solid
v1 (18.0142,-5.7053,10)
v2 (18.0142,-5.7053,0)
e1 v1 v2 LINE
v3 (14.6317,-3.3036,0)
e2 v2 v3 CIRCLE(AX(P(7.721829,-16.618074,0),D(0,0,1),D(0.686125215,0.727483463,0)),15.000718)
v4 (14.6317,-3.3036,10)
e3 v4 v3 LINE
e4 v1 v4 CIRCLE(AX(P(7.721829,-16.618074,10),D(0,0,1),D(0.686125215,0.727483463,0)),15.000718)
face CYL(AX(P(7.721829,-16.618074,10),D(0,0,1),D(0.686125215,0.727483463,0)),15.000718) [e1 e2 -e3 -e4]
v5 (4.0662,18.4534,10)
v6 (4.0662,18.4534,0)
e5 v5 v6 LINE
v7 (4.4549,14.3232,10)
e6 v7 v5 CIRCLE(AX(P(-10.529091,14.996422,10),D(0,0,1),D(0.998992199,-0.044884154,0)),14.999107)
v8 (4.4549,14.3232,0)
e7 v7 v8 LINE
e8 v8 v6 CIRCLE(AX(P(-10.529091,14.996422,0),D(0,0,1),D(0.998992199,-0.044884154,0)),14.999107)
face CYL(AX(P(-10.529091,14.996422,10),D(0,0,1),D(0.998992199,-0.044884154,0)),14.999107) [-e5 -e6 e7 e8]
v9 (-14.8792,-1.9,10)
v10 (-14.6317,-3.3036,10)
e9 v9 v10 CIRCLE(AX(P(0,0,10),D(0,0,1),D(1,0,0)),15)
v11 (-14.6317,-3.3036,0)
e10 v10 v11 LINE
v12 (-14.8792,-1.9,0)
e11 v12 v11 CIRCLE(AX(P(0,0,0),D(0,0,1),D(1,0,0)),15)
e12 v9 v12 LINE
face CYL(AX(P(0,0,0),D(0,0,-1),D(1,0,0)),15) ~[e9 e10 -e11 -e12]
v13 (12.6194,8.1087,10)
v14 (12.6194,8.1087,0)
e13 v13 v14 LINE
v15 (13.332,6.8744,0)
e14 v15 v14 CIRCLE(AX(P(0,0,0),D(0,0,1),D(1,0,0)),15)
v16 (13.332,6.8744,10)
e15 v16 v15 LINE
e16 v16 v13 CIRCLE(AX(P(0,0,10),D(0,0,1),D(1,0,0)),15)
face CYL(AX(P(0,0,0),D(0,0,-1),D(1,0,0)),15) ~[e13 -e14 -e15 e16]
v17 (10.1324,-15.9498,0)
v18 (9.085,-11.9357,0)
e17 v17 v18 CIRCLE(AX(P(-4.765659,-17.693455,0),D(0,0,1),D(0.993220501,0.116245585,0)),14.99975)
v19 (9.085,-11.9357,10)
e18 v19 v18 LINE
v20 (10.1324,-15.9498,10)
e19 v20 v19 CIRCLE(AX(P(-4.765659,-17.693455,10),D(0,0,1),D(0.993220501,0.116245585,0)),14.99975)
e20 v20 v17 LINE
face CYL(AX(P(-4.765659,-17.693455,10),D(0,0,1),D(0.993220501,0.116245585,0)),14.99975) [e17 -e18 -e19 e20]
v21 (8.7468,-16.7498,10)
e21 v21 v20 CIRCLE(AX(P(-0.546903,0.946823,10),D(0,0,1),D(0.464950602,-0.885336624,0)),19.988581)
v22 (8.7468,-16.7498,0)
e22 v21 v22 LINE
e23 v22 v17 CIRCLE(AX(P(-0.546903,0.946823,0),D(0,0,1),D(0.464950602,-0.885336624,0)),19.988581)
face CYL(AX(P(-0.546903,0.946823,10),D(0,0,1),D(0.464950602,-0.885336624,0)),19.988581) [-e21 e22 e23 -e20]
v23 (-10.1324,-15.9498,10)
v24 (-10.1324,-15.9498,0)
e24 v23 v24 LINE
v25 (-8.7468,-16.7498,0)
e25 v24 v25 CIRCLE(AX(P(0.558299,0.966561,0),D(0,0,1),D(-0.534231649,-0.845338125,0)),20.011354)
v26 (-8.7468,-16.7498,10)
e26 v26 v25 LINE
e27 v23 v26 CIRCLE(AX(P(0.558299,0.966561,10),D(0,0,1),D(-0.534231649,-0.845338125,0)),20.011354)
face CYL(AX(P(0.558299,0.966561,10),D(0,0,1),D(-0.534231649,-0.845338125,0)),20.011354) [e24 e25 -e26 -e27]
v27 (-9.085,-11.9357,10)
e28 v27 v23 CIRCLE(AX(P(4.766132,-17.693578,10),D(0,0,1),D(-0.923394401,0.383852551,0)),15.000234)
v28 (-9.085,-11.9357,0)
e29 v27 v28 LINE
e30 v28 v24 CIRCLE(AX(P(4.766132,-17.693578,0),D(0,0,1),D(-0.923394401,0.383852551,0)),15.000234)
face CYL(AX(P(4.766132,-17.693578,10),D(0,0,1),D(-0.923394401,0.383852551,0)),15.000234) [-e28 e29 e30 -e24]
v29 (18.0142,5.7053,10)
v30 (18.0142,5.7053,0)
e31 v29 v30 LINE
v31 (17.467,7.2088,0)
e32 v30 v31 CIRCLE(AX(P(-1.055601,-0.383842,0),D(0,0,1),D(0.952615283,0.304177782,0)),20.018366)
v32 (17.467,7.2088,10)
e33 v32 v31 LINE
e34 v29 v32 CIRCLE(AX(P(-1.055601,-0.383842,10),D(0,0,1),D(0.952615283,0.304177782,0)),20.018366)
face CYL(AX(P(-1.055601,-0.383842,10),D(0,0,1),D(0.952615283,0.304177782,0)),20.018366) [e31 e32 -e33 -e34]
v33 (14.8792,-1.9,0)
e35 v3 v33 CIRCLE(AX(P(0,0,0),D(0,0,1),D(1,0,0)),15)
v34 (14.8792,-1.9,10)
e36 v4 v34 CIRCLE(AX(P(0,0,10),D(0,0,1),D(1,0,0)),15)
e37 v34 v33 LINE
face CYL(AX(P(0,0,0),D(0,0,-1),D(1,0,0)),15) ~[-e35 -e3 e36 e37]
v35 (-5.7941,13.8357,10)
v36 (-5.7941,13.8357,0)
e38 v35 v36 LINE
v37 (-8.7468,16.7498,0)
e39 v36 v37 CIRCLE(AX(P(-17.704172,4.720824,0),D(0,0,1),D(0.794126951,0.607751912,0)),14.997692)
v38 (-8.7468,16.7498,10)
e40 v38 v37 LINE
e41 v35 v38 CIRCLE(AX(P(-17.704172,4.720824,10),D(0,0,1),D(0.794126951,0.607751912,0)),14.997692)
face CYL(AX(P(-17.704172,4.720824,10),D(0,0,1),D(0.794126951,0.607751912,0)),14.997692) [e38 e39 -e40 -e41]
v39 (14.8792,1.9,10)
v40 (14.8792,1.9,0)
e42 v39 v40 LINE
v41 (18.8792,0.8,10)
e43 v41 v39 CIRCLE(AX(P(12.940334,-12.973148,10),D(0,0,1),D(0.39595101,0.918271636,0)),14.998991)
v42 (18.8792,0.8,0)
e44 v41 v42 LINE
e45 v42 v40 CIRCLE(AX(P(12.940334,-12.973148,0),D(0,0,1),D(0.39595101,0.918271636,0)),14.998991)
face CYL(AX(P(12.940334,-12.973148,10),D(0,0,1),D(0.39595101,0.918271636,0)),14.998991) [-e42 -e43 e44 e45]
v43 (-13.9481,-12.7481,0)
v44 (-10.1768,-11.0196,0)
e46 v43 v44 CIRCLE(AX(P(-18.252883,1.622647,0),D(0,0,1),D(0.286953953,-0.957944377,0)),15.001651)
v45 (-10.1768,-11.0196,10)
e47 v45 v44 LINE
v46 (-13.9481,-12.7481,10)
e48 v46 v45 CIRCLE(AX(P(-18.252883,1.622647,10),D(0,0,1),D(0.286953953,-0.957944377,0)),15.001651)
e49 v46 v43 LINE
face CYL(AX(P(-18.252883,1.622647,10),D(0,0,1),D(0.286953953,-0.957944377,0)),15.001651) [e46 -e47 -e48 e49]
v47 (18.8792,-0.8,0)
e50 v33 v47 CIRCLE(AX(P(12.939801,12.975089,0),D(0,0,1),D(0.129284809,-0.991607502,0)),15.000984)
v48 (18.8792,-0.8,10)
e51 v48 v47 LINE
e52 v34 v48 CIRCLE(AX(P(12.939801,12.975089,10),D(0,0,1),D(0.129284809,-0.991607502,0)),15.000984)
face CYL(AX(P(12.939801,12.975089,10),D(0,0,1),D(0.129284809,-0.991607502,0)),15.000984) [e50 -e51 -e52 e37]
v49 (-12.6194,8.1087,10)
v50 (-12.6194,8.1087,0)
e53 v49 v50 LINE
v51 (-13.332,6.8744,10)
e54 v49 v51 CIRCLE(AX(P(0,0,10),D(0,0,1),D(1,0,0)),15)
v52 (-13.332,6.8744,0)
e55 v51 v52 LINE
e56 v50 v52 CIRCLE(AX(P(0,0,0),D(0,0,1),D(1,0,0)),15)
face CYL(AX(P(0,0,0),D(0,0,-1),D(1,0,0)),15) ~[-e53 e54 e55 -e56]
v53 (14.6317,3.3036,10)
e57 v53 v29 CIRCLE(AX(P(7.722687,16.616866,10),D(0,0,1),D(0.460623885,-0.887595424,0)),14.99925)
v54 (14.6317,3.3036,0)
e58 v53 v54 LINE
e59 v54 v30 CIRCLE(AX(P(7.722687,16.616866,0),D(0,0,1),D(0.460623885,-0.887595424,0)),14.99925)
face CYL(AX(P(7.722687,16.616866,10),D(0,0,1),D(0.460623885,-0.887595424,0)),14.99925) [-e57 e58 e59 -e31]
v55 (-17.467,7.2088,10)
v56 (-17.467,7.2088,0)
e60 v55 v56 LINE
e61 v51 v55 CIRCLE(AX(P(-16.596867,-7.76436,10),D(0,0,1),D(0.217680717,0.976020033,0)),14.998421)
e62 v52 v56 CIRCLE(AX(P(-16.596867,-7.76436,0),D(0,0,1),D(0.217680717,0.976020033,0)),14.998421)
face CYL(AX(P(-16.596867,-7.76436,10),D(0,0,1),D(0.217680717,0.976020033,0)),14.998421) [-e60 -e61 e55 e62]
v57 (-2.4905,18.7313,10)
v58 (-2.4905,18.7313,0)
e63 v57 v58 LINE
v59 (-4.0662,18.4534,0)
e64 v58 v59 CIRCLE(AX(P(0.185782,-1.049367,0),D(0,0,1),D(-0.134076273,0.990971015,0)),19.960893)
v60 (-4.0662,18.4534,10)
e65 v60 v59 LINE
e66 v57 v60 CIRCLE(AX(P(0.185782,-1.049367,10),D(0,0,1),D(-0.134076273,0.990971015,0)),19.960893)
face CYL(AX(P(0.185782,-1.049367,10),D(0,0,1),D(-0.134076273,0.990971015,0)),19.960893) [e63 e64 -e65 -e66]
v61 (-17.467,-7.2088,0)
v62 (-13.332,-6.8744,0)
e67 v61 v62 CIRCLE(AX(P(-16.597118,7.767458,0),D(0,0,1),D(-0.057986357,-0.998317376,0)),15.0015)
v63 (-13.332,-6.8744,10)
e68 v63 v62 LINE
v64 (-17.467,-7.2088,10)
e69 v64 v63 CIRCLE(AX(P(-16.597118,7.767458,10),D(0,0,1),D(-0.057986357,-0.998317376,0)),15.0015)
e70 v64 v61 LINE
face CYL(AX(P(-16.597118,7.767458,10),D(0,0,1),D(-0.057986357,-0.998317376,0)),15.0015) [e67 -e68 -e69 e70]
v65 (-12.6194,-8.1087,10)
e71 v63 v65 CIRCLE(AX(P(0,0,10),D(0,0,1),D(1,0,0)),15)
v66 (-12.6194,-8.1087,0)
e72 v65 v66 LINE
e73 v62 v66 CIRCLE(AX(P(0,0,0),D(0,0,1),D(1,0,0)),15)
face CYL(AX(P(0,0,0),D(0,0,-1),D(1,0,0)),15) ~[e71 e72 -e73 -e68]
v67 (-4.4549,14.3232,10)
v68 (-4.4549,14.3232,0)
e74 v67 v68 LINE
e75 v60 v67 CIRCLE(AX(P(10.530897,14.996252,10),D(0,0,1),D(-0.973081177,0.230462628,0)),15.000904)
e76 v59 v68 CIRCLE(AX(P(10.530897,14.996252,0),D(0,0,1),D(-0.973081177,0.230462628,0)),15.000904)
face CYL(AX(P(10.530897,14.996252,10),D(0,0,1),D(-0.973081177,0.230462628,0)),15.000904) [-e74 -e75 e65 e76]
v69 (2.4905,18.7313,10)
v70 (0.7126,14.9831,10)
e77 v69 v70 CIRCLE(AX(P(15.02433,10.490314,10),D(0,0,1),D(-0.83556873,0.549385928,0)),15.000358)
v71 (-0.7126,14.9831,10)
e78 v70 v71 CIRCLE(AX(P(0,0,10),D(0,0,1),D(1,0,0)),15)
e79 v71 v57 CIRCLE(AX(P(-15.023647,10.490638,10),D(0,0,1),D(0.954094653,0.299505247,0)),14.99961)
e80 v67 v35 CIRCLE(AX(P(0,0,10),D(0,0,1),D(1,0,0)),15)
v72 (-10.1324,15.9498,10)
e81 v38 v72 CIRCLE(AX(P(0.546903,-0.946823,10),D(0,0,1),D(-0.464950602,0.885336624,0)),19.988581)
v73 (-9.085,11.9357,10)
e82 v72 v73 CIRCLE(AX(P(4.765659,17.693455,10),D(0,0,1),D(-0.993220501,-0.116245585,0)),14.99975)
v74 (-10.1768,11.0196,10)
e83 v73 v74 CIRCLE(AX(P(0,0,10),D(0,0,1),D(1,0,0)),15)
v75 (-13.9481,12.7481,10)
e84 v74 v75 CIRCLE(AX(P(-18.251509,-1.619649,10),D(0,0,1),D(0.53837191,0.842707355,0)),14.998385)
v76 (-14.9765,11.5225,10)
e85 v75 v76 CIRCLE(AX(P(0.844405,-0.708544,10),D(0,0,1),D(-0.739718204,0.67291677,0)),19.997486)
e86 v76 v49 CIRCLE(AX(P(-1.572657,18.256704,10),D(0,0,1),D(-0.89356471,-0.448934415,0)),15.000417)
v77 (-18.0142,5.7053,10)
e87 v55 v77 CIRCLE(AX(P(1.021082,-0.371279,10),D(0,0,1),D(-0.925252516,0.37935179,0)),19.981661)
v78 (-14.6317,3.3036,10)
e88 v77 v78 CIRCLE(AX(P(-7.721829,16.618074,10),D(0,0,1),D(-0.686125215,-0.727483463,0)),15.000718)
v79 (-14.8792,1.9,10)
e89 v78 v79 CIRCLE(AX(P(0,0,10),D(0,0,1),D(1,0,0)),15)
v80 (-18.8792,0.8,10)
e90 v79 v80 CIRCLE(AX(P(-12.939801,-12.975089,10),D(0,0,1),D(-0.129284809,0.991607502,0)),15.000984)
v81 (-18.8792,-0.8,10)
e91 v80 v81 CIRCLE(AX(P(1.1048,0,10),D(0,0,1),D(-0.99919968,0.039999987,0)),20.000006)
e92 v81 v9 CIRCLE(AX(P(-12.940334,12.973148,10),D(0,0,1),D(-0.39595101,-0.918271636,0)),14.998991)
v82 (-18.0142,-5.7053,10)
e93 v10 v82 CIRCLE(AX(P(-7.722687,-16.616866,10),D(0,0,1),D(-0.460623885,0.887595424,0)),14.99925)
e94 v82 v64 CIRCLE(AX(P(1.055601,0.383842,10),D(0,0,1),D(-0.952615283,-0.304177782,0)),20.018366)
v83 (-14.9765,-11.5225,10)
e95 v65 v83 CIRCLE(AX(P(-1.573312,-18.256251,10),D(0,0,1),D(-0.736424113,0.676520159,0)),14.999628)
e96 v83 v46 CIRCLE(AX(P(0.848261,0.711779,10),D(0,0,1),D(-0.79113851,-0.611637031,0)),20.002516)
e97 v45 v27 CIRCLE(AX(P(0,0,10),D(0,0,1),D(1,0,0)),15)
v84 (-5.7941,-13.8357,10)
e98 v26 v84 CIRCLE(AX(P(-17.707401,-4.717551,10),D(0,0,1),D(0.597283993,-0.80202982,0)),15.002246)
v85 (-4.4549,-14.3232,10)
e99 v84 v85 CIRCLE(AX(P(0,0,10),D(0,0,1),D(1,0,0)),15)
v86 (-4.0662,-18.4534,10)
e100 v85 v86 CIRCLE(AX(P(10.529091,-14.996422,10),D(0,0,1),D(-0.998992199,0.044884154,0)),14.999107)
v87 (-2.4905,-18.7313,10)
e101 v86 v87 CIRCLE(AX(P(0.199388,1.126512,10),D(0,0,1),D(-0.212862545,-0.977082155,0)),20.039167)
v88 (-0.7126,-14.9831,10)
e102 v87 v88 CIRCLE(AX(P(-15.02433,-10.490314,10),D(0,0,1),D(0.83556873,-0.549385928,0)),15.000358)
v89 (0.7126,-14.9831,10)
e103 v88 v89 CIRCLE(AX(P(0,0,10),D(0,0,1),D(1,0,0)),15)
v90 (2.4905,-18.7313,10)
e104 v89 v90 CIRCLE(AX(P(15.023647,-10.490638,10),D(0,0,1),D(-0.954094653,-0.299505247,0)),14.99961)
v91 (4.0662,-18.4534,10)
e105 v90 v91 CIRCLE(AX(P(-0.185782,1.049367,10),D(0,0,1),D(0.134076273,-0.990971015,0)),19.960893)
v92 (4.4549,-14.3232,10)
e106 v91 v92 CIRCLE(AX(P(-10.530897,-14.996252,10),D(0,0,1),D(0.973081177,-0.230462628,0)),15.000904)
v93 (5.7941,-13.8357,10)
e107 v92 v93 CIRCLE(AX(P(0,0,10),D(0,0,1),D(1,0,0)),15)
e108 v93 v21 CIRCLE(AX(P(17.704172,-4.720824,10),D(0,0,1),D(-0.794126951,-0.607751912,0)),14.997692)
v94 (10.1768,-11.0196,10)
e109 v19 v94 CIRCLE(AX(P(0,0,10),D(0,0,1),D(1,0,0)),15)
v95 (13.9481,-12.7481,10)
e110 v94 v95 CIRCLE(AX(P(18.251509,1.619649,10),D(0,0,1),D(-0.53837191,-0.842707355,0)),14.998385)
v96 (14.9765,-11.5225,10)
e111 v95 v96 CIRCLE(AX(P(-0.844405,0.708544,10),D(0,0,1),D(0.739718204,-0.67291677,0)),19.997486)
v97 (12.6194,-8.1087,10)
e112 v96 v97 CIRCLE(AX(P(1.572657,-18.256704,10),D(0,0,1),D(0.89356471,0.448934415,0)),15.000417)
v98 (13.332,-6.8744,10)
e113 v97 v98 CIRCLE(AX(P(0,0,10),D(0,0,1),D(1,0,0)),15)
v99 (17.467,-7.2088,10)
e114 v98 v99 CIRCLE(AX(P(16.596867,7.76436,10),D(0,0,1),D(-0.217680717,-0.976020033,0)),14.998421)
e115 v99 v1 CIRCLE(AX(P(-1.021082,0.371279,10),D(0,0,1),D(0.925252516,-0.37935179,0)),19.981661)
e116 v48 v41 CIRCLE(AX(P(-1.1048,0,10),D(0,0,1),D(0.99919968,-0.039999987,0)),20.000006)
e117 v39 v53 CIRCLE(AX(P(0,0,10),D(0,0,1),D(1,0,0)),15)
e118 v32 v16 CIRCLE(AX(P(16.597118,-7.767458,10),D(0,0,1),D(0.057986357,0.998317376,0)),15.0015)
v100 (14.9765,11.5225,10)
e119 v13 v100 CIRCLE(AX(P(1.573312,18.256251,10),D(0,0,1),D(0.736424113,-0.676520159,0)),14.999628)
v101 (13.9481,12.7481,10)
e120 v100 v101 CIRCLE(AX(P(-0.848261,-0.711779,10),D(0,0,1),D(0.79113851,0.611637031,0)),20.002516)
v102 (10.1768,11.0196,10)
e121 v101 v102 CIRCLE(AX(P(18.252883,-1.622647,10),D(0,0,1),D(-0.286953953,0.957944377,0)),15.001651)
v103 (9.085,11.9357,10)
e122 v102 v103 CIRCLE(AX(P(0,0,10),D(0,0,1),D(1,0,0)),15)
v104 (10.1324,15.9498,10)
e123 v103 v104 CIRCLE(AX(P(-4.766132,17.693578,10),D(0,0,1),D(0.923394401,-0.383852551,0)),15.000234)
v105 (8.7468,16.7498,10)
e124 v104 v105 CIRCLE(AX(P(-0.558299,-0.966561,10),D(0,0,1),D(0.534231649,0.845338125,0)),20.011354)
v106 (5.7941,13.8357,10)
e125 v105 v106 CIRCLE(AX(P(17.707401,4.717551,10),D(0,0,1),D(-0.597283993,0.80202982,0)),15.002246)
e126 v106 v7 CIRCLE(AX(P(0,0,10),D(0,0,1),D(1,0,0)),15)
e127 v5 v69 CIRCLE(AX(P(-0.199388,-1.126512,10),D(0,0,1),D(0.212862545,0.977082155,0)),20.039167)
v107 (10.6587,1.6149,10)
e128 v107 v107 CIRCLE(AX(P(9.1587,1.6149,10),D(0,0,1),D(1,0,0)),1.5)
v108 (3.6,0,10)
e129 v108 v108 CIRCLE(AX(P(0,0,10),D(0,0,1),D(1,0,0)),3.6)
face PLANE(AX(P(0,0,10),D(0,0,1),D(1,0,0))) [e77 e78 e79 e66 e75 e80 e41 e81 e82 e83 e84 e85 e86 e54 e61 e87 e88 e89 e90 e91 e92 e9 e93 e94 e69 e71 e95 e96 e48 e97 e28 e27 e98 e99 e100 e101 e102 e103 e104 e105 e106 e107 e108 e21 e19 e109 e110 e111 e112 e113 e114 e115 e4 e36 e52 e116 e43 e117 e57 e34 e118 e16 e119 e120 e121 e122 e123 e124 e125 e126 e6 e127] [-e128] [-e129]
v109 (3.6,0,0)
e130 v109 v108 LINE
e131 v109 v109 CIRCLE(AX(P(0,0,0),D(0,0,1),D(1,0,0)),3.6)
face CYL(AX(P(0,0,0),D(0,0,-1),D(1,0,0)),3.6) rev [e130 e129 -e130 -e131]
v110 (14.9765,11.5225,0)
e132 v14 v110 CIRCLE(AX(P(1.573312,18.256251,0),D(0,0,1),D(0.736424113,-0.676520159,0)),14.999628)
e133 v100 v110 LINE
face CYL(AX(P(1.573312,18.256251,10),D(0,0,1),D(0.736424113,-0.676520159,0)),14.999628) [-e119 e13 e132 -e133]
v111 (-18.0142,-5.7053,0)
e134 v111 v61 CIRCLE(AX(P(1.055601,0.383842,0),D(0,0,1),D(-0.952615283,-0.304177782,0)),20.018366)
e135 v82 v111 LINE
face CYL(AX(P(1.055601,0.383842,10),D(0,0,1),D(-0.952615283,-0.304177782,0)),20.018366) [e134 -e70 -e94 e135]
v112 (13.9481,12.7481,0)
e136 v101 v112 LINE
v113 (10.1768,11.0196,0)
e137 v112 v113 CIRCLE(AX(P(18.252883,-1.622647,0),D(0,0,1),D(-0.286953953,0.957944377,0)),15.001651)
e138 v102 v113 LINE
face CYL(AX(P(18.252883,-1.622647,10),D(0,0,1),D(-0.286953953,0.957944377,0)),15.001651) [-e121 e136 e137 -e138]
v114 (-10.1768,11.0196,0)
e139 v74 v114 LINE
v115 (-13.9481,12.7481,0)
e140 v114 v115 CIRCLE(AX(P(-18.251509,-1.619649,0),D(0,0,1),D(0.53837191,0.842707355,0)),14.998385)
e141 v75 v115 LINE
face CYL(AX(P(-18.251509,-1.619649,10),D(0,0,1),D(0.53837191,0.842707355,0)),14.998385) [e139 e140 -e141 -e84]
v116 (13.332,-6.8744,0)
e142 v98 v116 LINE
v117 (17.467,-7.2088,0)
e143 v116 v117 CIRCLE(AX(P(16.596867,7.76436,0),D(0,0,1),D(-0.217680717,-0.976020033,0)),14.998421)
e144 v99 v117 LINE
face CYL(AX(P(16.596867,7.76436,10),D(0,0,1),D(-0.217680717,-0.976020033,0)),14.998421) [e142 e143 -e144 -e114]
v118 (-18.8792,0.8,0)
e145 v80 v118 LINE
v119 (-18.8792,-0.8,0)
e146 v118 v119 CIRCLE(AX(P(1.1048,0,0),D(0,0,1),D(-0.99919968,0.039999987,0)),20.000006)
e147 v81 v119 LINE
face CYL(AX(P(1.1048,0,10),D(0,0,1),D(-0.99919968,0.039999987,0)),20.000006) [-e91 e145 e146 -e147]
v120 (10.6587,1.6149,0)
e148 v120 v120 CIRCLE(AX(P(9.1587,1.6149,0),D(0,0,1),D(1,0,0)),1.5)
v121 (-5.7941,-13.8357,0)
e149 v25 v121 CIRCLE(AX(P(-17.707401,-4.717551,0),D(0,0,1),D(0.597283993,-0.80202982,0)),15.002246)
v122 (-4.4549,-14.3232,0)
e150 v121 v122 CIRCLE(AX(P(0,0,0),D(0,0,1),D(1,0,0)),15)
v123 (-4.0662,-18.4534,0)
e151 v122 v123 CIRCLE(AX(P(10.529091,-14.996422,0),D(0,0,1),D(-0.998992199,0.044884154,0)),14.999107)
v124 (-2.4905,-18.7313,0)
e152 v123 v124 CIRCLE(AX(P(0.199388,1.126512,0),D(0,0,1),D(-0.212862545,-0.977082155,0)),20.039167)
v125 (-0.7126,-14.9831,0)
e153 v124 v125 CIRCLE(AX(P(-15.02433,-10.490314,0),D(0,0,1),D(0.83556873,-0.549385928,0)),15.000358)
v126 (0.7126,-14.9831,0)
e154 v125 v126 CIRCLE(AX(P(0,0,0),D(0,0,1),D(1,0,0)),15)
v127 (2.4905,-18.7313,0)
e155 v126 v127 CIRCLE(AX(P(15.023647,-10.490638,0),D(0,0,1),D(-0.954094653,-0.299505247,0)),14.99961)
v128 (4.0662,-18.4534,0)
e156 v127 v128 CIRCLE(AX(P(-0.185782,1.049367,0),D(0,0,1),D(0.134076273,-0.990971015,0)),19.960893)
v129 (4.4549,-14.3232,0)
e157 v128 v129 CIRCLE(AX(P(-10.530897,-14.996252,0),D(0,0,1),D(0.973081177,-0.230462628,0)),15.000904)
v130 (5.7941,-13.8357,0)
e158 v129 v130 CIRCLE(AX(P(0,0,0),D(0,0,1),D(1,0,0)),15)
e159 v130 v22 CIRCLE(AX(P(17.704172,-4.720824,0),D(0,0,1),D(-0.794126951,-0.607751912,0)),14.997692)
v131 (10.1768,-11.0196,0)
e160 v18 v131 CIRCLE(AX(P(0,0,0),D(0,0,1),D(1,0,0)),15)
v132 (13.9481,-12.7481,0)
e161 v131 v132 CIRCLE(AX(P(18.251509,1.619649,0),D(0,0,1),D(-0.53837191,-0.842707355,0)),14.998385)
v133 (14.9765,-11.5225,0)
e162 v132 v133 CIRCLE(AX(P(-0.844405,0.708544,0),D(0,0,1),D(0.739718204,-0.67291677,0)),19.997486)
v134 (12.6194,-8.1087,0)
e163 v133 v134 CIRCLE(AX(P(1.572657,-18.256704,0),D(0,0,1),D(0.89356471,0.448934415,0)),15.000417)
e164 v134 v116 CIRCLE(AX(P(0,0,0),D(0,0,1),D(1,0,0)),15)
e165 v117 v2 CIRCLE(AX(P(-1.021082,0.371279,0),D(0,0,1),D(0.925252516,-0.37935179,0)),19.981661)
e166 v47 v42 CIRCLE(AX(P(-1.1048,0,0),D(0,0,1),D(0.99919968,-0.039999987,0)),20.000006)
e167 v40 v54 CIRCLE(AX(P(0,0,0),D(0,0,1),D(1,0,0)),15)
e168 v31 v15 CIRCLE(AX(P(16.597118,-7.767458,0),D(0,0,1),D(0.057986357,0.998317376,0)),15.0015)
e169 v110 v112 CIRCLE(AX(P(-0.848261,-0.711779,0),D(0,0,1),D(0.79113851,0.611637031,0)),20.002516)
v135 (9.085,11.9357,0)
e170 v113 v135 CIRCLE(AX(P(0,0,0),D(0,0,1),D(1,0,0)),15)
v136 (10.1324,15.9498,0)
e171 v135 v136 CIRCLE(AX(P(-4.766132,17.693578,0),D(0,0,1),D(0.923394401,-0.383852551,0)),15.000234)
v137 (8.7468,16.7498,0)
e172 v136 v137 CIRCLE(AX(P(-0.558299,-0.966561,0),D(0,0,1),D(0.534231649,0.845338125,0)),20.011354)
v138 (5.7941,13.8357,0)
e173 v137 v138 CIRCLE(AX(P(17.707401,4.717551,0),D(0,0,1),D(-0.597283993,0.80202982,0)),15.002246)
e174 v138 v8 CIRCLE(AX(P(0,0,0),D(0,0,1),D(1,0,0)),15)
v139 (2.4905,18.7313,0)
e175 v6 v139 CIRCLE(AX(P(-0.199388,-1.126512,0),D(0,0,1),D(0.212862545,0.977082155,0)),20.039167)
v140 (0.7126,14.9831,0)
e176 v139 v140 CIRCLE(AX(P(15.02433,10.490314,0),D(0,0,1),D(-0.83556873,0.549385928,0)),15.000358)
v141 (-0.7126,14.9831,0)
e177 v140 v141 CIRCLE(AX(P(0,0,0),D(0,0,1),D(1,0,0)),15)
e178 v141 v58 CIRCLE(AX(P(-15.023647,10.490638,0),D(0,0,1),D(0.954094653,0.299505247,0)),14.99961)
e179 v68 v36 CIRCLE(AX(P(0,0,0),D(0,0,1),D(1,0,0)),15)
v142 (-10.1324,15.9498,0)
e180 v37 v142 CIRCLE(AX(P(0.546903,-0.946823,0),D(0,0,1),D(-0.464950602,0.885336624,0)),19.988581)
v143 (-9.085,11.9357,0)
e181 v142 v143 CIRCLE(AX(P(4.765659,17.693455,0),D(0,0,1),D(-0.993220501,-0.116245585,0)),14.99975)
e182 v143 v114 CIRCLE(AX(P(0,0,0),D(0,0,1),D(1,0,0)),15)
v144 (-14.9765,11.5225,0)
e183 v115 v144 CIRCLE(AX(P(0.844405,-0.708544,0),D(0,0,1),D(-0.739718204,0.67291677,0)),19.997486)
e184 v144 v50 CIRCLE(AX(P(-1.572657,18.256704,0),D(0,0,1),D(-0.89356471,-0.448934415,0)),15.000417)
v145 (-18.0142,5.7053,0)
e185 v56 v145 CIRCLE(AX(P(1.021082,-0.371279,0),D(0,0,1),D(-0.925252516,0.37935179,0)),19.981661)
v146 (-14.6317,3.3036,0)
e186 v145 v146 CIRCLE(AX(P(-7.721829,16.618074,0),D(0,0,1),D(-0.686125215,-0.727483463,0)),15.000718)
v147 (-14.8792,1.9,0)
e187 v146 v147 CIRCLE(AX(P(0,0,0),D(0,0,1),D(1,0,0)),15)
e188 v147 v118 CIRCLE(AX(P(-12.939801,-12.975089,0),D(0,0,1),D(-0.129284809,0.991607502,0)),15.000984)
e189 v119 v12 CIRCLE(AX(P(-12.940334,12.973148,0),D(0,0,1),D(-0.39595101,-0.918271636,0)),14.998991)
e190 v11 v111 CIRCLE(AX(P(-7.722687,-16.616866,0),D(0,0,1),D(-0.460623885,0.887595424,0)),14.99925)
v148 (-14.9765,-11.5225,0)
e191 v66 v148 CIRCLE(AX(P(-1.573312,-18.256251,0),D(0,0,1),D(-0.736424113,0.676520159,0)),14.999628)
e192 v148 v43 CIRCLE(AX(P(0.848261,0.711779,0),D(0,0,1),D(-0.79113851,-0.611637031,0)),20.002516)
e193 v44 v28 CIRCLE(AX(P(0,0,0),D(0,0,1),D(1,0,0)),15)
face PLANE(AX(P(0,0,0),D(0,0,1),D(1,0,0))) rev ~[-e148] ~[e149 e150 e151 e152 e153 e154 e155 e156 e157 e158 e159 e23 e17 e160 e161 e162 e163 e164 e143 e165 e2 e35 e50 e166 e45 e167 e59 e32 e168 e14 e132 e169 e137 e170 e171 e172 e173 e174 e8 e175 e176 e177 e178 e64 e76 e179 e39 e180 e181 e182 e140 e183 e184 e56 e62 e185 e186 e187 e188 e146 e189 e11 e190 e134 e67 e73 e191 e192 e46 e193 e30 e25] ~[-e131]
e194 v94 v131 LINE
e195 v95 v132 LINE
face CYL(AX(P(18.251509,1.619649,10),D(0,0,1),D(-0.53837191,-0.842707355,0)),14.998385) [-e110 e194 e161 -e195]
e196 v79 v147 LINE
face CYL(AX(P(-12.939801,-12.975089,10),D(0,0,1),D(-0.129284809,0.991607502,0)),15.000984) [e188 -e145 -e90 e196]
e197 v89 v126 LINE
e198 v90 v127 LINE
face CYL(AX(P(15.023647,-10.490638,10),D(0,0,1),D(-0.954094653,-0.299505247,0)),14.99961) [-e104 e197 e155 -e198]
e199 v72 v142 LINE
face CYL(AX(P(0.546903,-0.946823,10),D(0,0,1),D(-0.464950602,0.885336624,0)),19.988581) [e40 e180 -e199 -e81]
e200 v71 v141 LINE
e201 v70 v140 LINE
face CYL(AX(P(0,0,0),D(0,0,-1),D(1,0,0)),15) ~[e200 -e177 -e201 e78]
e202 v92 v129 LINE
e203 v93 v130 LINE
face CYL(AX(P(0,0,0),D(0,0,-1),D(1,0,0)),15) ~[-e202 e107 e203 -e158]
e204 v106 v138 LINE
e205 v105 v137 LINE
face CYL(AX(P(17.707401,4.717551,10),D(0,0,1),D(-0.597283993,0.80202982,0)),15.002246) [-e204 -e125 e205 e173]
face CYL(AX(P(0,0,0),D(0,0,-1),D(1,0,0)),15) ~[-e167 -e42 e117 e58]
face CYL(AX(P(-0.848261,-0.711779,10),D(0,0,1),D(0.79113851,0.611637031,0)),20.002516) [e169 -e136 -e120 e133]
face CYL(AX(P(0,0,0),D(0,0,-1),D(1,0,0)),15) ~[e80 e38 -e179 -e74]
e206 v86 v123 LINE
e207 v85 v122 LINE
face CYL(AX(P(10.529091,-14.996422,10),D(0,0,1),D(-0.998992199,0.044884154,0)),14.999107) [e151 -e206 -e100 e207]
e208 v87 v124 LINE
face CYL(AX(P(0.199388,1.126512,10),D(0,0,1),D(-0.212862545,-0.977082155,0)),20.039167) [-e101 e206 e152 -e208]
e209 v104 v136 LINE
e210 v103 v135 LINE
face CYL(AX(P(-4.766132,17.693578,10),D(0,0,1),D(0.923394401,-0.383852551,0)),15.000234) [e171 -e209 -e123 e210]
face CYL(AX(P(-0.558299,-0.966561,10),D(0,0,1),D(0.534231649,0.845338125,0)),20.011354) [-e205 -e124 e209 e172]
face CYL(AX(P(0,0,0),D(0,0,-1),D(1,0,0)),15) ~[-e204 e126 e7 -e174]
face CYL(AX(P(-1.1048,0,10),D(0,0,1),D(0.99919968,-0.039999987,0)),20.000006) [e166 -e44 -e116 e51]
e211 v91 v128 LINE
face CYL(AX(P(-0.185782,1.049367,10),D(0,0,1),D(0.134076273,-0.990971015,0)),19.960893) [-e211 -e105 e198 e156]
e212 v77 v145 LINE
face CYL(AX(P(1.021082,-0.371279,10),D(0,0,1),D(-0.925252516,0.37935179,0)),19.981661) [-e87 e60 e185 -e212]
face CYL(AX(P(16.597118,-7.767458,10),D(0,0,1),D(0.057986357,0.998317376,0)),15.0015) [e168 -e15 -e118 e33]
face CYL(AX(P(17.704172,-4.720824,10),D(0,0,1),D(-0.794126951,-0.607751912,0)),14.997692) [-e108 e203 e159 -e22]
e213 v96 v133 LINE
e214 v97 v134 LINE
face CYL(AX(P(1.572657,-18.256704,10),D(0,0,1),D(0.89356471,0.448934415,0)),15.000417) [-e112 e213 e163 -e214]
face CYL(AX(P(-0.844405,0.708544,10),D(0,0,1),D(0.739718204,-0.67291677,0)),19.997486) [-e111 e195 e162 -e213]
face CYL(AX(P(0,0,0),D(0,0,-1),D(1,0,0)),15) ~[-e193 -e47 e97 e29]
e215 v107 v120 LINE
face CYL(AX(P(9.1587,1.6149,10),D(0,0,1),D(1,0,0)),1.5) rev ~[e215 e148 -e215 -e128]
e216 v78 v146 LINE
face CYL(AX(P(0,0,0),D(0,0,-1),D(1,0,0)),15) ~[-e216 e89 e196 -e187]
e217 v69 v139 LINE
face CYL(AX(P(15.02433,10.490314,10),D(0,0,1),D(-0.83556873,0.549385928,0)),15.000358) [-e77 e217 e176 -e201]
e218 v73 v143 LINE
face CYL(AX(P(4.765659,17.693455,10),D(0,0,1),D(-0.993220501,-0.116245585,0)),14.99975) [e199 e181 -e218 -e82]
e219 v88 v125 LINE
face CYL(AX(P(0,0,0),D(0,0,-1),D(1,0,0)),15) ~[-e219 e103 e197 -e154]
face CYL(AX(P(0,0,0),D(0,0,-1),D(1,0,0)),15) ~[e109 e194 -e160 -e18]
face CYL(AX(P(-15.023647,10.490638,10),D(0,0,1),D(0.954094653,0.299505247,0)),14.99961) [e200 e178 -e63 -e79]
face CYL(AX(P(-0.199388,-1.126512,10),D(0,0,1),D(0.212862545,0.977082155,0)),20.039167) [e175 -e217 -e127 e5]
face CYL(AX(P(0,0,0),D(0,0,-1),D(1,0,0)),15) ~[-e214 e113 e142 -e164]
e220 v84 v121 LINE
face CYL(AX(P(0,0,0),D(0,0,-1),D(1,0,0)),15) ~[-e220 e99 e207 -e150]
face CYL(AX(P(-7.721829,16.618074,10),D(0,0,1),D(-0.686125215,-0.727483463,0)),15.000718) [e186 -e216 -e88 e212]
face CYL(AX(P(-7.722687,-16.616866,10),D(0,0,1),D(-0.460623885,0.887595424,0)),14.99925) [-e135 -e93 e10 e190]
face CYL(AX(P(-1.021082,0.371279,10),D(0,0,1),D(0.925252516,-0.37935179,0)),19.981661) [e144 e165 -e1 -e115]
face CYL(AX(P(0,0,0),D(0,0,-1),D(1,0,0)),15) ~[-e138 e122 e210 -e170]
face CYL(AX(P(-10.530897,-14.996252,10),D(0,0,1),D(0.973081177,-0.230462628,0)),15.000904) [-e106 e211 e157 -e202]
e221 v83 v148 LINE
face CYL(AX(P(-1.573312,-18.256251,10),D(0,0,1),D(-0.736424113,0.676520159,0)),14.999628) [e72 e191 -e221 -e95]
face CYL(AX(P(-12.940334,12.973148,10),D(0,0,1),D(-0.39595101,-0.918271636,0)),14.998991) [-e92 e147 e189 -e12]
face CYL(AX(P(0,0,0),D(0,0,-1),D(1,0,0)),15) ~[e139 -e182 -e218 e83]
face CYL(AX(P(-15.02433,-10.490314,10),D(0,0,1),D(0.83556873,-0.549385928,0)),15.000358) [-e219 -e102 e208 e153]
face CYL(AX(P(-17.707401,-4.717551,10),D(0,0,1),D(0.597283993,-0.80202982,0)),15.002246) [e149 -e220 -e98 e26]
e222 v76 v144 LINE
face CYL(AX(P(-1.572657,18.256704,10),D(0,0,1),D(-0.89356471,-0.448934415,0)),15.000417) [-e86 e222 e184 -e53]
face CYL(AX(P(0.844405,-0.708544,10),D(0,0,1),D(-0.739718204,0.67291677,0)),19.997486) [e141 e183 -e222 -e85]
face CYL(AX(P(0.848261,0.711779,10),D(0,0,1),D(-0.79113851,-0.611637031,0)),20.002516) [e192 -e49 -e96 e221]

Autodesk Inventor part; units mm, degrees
ref_plane "YZ Plane" through (0, 0, 0) normal (1, 0, 0) x (0, 1, 0)
ref_plane "XZ Plane" through (0, 0, 0) normal (0, 1, 0) x (-1, 0, 0)
ref_plane "XY Plane" through (0, 0, 0) normal (0, 0, 1) x (1, 0, 0)
sketch "Sketch1" plane through (0, 0, 0) normal (0, 0, 1) x (1, 0, 0)
  circle A0 centre (0, 0) radius 15
  circle A1 centre (0, 0) radius 3.6
  dimension "d0" = 30
  dimension "d1" = 7.2
extrude "Extrusion1" add sketch "Sketch1" along normal blind 10
sketch "Sketch3" plane through (0, 0, 10) normal (0, 0, 1) x (1, 0, 0)
  line L0 (0, 0) -> (25, 0) construction
  arc A0 (18.8792, 0.8) -> (14.8792, 1.9) centre (12.94, -12.9741) ccw
  circle A1 centre (0, 0) radius 15 projected
  arc A2 (18.8792, -0.8) -> (18.8792, 0.8) centre (-1.1048, 0) ccw
  arc A3 (14.8792, -1.9) -> (18.8792, -0.8) centre (12.94, 12.9741) ccw
  arc A4 (14.8792, -1.9) -> (14.8792, 1.9) centre (0, 0) ccw
  arc A5 (17.467, 7.2088) -> (13.332, 6.8744) centre (16.5971, -7.7659) ccw
  arc A6 (18.0142, 5.7053) -> (17.467, 7.2088) centre (-1.0382, -0.3779) ccw
  arc A7 (14.6317, 3.3036) -> (18.0142, 5.7053) centre (7.7223, 16.6175) ccw
  arc A8 (14.6317, 3.3036) -> (13.332, 6.8744) centre (0, 0) ccw
  arc A9 (13.9481, 12.7481) -> (10.1768, 11.0196) centre (18.2523, -1.6211) ccw
  arc A10 (14.9765, 11.5225) -> (13.9481, 12.7481) centre (-0.8463, -0.7102) ccw
  arc A11 (12.6194, 8.1087) -> (14.9765, 11.5225) centre (1.573, 18.2565) ccw
  arc A12 (12.6194, 8.1087) -> (10.1768, 11.0196) centre (0, 0) ccw
  arc A13 (8.7468, 16.7498) -> (5.7941, 13.8357) centre (17.7059, 4.7193) ccw
  arc A14 (10.1324, 15.9498) -> (8.7468, 16.7498) centre (-0.5524, -0.9568) ccw
  arc A15 (9.085, 11.9357) -> (10.1324, 15.9498) centre (-4.7659, 17.6935) ccw
  arc A16 (9.085, 11.9357) -> (5.7941, 13.8357) centre (0, 0) ccw
  arc A17 (2.4905, 18.7313) -> (0.7126, 14.9831) centre (15.024, 10.4905) ccw
  arc A18 (4.0662, 18.4534) -> (2.4905, 18.7313) centre (-0.1918, -1.088) ccw
  arc A19 (4.4549, 14.3232) -> (4.0662, 18.4534) centre (-10.53, 14.9964) ccw
  arc A20 (4.4549, 14.3232) -> (0.7126, 14.9831) centre (0, 0) ccw
  arc A21 (-4.0662, 18.4534) -> (-4.4549, 14.3232) centre (10.53, 14.9964) ccw
  arc A22 (-2.4905, 18.7313) -> (-4.0662, 18.4534) centre (0.1918, -1.088) ccw
  arc A23 (-0.7126, 14.9831) -> (-2.4905, 18.7313) centre (-15.024, 10.4905) ccw
  arc A24 (-0.7126, 14.9831) -> (-4.4549, 14.3232) centre (0, 0) ccw
  arc A25 (-10.1324, 15.9498) -> (-9.085, 11.9357) centre (4.7659, 17.6935) ccw
  arc A26 (-8.7468, 16.7498) -> (-10.1324, 15.9498) centre (0.5524, -0.9568) ccw
  arc A27 (-5.7941, 13.8357) -> (-8.7468, 16.7498) centre (-17.7059, 4.7193) ccw
  arc A28 (-5.7941, 13.8357) -> (-9.085, 11.9357) centre (0, 0) ccw
  arc A29 (-14.9765, 11.5225) -> (-12.6194, 8.1087) centre (-1.573, 18.2565) ccw
  arc A30 (-13.9481, 12.7481) -> (-14.9765, 11.5225) centre (0.8463, -0.7102) ccw
  arc A31 (-10.1768, 11.0196) -> (-13.9481, 12.7481) centre (-18.2523, -1.6211) ccw
  arc A32 (-10.1768, 11.0196) -> (-12.6194, 8.1087) centre (0, 0) ccw
  arc A33 (-18.0142, 5.7053) -> (-14.6317, 3.3036) centre (-7.7223, 16.6175) ccw
  arc A34 (-17.467, 7.2088) -> (-18.0142, 5.7053) centre (1.0382, -0.3779) ccw
  arc A35 (-13.332, 6.8744) -> (-17.467, 7.2088) centre (-16.5971, -7.7659) ccw
  arc A36 (-13.332, 6.8744) -> (-14.6317, 3.3036) centre (0, 0) ccw
  arc A37 (-18.8792, -0.8) -> (-14.8792, -1.9) centre (-12.94, 12.9741) ccw
  arc A38 (-18.8792, 0.8) -> (-18.8792, -0.8) centre (1.1048, 0) ccw
  arc A39 (-14.8792, 1.9) -> (-18.8792, 0.8) centre (-12.94, -12.9741) ccw
  arc A40 (-14.8792, 1.9) -> (-14.8792, -1.9) centre (0, 0) ccw
  arc A41 (-17.467, -7.2088) -> (-13.332, -6.8744) centre (-16.5971, 7.7659) ccw
  arc A42 (-18.0142, -5.7053) -> (-17.467, -7.2088) centre (1.0382, 0.3779) ccw
  arc A43 (-14.6317, -3.3036) -> (-18.0142, -5.7053) centre (-7.7223, -16.6175) ccw
  arc A44 (-14.6317, -3.3036) -> (-13.332, -6.8744) centre (0, 0) ccw
  arc A45 (-13.9481, -12.7481) -> (-10.1768, -11.0196) centre (-18.2523, 1.6211) ccw
  arc A46 (-14.9765, -11.5225) -> (-13.9481, -12.7481) centre (0.8463, 0.7102) ccw
  arc A47 (-12.6194, -8.1087) -> (-14.9765, -11.5225) centre (-1.573, -18.2565) ccw
  arc A48 (-12.6194, -8.1087) -> (-10.1768, -11.0196) centre (0, 0) ccw
  arc A49 (-8.7468, -16.7498) -> (-5.7941, -13.8357) centre (-17.7059, -4.7193) ccw
  arc A50 (-10.1324, -15.9498) -> (-8.7468, -16.7498) centre (0.5524, 0.9568) ccw
  arc A51 (-9.085, -11.9357) -> (-10.1324, -15.9498) centre (4.7659, -17.6935) ccw
  arc A52 (-9.085, -11.9357) -> (-5.7941, -13.8357) centre (0, 0) ccw
  arc A53 (-2.4905, -18.7313) -> (-0.7126, -14.9831) centre (-15.024, -10.4905) ccw
  arc A54 (-4.0662, -18.4534) -> (-2.4905, -18.7313) centre (0.1918, 1.088) ccw
  arc A55 (-4.4549, -14.3232) -> (-4.0662, -18.4534) centre (10.53, -14.9964) ccw
  arc A56 (-4.4549, -14.3232) -> (-0.7126, -14.9831) centre (0, 0) ccw
  arc A57 (4.0662, -18.4534) -> (4.4549, -14.3232) centre (-10.53, -14.9964) ccw
  arc A58 (2.4905, -18.7313) -> (4.0662, -18.4534) centre (-0.1918, 1.088) ccw
  arc A59 (0.7126, -14.9831) -> (2.4905, -18.7313) centre (15.024, -10.4905) ccw
  arc A60 (0.7126, -14.9831) -> (4.4549, -14.3232) centre (0, 0) ccw
  arc A61 (10.1324, -15.9498) -> (9.085, -11.9357) centre (-4.7659, -17.6935) ccw
  arc A62 (8.7468, -16.7498) -> (10.1324, -15.9498) centre (-0.5524, 0.9568) ccw
  arc A63 (5.7941, -13.8357) -> (8.7468, -16.7498) centre (17.7059, -4.7193) ccw
  arc A64 (5.7941, -13.8357) -> (9.085, -11.9357) centre (0, 0) ccw
  arc A65 (14.9765, -11.5225) -> (12.6194, -8.1087) centre (1.573, -18.2565) ccw
  arc A66 (13.9481, -12.7481) -> (14.9765, -11.5225) centre (-0.8463, 0.7102) ccw
  arc A67 (10.1768, -11.0196) -> (13.9481, -12.7481) centre (18.2523, 1.6211) ccw
  arc A68 (10.1768, -11.0196) -> (12.6194, -8.1087) centre (0, 0) ccw
  arc A69 (18.0142, -5.7053) -> (14.6317, -3.3036) centre (7.7223, -16.6175) ccw
  arc A70 (17.467, -7.2088) -> (18.0142, -5.7053) centre (-1.0382, 0.3779) ccw
  arc A71 (13.332, -6.8744) -> (17.467, -7.2088) centre (16.5971, 7.7659) ccw
  arc A72 (13.332, -6.8744) -> (14.6317, -3.3036) centre (0, 0) ccw
  point P0 (18.8952, 0)
  point P1 (17.7557, 6.4625)
  point P2 (14.4746, 12.1456)
  point P3 (9.4476, 16.3637)
  point P4 (3.2811, 18.6081)
  point P5 (-3.2811, 18.6081)
  point P6 (-9.4476, 16.3637)
  point P7 (-14.4746, 12.1456)
  point P8 (-17.7557, 6.4625)
  point P9 (-18.8952, 0)
  point P10 (-17.7557, -6.4625)
  point P11 (-14.4746, -12.1456)
  point P12 (-9.4476, -16.3637)
  point P13 (-3.2811, -18.6081)
  point P14 (3.2811, -18.6081)
  point P15 (9.4476, -16.3637)
  point P16 (14.4746, -12.1456)
  point P17 (17.7557, -6.4625)
  dimension "d8" = 25
  dimension "d9" = 15
  dimension "d10" = 1.6
  dimension "d11" = 20
  dimension "d12" = 4
  dimension "d13" = 1.1
  dimension "d14" = 15
  dimension "d15" = 1.1
  dimension "d16" = 4
  dimension "d19" = 360
extrude "Extrusion3" add sketch "Sketch3" against normal blind 10 contours A2 A3 A1 A0 | A1 A5 A6 A7 | A69 A70 A71 A1 | A1 A9 A10 A11 | A65 A66 A67 A1 | A1 A13 A14 A15 | A61 A62 A63 A1 | A1 A17 A18 A19 | A57 A58 A59 A1 | A1 A21 A22 A23 | A53 A54 A55 A1 | A1 A25 A26 A27 | A49 A50 A51 A1 | A1 A29 A30 A31 | A45 A46 A47 A1 | A1 A33 A34 A35 | A41 A42 A43 A1 | A1 A37 A38 A39
sketch "Sketch2" plane through (0, 0, 10) normal (0, 0, 1) x (1, 0, 0)
  circle A0 centre (9.1587, 1.6149) radius 1.5
  circle A1 centre (0, 0) radius 15 construction
  circle A2 centre (0, 0) radius 3.6 construction
  circle A3 centre (0, 0) radius 3.6 construction
  circle A4 centre (0, 0) radius 15 construction
  arc A5 (14.8792, 1.9) -> (14.6317, 3.3036) centre (0, 0) ccw
  line L0 (3.5453, 0.6251) -> (14.7721, 2.6047) construction
  line L1 (0, 0) -> (3.5453, 0.6251) construction
  line L2 (0, 0) -> (14.7721, 2.6047) construction
  dimension "d4" = 3
extrude "Extrusion2" cut sketch "Sketch2" against normal through all
properties part number "GA002" material "ABS Plastic"
